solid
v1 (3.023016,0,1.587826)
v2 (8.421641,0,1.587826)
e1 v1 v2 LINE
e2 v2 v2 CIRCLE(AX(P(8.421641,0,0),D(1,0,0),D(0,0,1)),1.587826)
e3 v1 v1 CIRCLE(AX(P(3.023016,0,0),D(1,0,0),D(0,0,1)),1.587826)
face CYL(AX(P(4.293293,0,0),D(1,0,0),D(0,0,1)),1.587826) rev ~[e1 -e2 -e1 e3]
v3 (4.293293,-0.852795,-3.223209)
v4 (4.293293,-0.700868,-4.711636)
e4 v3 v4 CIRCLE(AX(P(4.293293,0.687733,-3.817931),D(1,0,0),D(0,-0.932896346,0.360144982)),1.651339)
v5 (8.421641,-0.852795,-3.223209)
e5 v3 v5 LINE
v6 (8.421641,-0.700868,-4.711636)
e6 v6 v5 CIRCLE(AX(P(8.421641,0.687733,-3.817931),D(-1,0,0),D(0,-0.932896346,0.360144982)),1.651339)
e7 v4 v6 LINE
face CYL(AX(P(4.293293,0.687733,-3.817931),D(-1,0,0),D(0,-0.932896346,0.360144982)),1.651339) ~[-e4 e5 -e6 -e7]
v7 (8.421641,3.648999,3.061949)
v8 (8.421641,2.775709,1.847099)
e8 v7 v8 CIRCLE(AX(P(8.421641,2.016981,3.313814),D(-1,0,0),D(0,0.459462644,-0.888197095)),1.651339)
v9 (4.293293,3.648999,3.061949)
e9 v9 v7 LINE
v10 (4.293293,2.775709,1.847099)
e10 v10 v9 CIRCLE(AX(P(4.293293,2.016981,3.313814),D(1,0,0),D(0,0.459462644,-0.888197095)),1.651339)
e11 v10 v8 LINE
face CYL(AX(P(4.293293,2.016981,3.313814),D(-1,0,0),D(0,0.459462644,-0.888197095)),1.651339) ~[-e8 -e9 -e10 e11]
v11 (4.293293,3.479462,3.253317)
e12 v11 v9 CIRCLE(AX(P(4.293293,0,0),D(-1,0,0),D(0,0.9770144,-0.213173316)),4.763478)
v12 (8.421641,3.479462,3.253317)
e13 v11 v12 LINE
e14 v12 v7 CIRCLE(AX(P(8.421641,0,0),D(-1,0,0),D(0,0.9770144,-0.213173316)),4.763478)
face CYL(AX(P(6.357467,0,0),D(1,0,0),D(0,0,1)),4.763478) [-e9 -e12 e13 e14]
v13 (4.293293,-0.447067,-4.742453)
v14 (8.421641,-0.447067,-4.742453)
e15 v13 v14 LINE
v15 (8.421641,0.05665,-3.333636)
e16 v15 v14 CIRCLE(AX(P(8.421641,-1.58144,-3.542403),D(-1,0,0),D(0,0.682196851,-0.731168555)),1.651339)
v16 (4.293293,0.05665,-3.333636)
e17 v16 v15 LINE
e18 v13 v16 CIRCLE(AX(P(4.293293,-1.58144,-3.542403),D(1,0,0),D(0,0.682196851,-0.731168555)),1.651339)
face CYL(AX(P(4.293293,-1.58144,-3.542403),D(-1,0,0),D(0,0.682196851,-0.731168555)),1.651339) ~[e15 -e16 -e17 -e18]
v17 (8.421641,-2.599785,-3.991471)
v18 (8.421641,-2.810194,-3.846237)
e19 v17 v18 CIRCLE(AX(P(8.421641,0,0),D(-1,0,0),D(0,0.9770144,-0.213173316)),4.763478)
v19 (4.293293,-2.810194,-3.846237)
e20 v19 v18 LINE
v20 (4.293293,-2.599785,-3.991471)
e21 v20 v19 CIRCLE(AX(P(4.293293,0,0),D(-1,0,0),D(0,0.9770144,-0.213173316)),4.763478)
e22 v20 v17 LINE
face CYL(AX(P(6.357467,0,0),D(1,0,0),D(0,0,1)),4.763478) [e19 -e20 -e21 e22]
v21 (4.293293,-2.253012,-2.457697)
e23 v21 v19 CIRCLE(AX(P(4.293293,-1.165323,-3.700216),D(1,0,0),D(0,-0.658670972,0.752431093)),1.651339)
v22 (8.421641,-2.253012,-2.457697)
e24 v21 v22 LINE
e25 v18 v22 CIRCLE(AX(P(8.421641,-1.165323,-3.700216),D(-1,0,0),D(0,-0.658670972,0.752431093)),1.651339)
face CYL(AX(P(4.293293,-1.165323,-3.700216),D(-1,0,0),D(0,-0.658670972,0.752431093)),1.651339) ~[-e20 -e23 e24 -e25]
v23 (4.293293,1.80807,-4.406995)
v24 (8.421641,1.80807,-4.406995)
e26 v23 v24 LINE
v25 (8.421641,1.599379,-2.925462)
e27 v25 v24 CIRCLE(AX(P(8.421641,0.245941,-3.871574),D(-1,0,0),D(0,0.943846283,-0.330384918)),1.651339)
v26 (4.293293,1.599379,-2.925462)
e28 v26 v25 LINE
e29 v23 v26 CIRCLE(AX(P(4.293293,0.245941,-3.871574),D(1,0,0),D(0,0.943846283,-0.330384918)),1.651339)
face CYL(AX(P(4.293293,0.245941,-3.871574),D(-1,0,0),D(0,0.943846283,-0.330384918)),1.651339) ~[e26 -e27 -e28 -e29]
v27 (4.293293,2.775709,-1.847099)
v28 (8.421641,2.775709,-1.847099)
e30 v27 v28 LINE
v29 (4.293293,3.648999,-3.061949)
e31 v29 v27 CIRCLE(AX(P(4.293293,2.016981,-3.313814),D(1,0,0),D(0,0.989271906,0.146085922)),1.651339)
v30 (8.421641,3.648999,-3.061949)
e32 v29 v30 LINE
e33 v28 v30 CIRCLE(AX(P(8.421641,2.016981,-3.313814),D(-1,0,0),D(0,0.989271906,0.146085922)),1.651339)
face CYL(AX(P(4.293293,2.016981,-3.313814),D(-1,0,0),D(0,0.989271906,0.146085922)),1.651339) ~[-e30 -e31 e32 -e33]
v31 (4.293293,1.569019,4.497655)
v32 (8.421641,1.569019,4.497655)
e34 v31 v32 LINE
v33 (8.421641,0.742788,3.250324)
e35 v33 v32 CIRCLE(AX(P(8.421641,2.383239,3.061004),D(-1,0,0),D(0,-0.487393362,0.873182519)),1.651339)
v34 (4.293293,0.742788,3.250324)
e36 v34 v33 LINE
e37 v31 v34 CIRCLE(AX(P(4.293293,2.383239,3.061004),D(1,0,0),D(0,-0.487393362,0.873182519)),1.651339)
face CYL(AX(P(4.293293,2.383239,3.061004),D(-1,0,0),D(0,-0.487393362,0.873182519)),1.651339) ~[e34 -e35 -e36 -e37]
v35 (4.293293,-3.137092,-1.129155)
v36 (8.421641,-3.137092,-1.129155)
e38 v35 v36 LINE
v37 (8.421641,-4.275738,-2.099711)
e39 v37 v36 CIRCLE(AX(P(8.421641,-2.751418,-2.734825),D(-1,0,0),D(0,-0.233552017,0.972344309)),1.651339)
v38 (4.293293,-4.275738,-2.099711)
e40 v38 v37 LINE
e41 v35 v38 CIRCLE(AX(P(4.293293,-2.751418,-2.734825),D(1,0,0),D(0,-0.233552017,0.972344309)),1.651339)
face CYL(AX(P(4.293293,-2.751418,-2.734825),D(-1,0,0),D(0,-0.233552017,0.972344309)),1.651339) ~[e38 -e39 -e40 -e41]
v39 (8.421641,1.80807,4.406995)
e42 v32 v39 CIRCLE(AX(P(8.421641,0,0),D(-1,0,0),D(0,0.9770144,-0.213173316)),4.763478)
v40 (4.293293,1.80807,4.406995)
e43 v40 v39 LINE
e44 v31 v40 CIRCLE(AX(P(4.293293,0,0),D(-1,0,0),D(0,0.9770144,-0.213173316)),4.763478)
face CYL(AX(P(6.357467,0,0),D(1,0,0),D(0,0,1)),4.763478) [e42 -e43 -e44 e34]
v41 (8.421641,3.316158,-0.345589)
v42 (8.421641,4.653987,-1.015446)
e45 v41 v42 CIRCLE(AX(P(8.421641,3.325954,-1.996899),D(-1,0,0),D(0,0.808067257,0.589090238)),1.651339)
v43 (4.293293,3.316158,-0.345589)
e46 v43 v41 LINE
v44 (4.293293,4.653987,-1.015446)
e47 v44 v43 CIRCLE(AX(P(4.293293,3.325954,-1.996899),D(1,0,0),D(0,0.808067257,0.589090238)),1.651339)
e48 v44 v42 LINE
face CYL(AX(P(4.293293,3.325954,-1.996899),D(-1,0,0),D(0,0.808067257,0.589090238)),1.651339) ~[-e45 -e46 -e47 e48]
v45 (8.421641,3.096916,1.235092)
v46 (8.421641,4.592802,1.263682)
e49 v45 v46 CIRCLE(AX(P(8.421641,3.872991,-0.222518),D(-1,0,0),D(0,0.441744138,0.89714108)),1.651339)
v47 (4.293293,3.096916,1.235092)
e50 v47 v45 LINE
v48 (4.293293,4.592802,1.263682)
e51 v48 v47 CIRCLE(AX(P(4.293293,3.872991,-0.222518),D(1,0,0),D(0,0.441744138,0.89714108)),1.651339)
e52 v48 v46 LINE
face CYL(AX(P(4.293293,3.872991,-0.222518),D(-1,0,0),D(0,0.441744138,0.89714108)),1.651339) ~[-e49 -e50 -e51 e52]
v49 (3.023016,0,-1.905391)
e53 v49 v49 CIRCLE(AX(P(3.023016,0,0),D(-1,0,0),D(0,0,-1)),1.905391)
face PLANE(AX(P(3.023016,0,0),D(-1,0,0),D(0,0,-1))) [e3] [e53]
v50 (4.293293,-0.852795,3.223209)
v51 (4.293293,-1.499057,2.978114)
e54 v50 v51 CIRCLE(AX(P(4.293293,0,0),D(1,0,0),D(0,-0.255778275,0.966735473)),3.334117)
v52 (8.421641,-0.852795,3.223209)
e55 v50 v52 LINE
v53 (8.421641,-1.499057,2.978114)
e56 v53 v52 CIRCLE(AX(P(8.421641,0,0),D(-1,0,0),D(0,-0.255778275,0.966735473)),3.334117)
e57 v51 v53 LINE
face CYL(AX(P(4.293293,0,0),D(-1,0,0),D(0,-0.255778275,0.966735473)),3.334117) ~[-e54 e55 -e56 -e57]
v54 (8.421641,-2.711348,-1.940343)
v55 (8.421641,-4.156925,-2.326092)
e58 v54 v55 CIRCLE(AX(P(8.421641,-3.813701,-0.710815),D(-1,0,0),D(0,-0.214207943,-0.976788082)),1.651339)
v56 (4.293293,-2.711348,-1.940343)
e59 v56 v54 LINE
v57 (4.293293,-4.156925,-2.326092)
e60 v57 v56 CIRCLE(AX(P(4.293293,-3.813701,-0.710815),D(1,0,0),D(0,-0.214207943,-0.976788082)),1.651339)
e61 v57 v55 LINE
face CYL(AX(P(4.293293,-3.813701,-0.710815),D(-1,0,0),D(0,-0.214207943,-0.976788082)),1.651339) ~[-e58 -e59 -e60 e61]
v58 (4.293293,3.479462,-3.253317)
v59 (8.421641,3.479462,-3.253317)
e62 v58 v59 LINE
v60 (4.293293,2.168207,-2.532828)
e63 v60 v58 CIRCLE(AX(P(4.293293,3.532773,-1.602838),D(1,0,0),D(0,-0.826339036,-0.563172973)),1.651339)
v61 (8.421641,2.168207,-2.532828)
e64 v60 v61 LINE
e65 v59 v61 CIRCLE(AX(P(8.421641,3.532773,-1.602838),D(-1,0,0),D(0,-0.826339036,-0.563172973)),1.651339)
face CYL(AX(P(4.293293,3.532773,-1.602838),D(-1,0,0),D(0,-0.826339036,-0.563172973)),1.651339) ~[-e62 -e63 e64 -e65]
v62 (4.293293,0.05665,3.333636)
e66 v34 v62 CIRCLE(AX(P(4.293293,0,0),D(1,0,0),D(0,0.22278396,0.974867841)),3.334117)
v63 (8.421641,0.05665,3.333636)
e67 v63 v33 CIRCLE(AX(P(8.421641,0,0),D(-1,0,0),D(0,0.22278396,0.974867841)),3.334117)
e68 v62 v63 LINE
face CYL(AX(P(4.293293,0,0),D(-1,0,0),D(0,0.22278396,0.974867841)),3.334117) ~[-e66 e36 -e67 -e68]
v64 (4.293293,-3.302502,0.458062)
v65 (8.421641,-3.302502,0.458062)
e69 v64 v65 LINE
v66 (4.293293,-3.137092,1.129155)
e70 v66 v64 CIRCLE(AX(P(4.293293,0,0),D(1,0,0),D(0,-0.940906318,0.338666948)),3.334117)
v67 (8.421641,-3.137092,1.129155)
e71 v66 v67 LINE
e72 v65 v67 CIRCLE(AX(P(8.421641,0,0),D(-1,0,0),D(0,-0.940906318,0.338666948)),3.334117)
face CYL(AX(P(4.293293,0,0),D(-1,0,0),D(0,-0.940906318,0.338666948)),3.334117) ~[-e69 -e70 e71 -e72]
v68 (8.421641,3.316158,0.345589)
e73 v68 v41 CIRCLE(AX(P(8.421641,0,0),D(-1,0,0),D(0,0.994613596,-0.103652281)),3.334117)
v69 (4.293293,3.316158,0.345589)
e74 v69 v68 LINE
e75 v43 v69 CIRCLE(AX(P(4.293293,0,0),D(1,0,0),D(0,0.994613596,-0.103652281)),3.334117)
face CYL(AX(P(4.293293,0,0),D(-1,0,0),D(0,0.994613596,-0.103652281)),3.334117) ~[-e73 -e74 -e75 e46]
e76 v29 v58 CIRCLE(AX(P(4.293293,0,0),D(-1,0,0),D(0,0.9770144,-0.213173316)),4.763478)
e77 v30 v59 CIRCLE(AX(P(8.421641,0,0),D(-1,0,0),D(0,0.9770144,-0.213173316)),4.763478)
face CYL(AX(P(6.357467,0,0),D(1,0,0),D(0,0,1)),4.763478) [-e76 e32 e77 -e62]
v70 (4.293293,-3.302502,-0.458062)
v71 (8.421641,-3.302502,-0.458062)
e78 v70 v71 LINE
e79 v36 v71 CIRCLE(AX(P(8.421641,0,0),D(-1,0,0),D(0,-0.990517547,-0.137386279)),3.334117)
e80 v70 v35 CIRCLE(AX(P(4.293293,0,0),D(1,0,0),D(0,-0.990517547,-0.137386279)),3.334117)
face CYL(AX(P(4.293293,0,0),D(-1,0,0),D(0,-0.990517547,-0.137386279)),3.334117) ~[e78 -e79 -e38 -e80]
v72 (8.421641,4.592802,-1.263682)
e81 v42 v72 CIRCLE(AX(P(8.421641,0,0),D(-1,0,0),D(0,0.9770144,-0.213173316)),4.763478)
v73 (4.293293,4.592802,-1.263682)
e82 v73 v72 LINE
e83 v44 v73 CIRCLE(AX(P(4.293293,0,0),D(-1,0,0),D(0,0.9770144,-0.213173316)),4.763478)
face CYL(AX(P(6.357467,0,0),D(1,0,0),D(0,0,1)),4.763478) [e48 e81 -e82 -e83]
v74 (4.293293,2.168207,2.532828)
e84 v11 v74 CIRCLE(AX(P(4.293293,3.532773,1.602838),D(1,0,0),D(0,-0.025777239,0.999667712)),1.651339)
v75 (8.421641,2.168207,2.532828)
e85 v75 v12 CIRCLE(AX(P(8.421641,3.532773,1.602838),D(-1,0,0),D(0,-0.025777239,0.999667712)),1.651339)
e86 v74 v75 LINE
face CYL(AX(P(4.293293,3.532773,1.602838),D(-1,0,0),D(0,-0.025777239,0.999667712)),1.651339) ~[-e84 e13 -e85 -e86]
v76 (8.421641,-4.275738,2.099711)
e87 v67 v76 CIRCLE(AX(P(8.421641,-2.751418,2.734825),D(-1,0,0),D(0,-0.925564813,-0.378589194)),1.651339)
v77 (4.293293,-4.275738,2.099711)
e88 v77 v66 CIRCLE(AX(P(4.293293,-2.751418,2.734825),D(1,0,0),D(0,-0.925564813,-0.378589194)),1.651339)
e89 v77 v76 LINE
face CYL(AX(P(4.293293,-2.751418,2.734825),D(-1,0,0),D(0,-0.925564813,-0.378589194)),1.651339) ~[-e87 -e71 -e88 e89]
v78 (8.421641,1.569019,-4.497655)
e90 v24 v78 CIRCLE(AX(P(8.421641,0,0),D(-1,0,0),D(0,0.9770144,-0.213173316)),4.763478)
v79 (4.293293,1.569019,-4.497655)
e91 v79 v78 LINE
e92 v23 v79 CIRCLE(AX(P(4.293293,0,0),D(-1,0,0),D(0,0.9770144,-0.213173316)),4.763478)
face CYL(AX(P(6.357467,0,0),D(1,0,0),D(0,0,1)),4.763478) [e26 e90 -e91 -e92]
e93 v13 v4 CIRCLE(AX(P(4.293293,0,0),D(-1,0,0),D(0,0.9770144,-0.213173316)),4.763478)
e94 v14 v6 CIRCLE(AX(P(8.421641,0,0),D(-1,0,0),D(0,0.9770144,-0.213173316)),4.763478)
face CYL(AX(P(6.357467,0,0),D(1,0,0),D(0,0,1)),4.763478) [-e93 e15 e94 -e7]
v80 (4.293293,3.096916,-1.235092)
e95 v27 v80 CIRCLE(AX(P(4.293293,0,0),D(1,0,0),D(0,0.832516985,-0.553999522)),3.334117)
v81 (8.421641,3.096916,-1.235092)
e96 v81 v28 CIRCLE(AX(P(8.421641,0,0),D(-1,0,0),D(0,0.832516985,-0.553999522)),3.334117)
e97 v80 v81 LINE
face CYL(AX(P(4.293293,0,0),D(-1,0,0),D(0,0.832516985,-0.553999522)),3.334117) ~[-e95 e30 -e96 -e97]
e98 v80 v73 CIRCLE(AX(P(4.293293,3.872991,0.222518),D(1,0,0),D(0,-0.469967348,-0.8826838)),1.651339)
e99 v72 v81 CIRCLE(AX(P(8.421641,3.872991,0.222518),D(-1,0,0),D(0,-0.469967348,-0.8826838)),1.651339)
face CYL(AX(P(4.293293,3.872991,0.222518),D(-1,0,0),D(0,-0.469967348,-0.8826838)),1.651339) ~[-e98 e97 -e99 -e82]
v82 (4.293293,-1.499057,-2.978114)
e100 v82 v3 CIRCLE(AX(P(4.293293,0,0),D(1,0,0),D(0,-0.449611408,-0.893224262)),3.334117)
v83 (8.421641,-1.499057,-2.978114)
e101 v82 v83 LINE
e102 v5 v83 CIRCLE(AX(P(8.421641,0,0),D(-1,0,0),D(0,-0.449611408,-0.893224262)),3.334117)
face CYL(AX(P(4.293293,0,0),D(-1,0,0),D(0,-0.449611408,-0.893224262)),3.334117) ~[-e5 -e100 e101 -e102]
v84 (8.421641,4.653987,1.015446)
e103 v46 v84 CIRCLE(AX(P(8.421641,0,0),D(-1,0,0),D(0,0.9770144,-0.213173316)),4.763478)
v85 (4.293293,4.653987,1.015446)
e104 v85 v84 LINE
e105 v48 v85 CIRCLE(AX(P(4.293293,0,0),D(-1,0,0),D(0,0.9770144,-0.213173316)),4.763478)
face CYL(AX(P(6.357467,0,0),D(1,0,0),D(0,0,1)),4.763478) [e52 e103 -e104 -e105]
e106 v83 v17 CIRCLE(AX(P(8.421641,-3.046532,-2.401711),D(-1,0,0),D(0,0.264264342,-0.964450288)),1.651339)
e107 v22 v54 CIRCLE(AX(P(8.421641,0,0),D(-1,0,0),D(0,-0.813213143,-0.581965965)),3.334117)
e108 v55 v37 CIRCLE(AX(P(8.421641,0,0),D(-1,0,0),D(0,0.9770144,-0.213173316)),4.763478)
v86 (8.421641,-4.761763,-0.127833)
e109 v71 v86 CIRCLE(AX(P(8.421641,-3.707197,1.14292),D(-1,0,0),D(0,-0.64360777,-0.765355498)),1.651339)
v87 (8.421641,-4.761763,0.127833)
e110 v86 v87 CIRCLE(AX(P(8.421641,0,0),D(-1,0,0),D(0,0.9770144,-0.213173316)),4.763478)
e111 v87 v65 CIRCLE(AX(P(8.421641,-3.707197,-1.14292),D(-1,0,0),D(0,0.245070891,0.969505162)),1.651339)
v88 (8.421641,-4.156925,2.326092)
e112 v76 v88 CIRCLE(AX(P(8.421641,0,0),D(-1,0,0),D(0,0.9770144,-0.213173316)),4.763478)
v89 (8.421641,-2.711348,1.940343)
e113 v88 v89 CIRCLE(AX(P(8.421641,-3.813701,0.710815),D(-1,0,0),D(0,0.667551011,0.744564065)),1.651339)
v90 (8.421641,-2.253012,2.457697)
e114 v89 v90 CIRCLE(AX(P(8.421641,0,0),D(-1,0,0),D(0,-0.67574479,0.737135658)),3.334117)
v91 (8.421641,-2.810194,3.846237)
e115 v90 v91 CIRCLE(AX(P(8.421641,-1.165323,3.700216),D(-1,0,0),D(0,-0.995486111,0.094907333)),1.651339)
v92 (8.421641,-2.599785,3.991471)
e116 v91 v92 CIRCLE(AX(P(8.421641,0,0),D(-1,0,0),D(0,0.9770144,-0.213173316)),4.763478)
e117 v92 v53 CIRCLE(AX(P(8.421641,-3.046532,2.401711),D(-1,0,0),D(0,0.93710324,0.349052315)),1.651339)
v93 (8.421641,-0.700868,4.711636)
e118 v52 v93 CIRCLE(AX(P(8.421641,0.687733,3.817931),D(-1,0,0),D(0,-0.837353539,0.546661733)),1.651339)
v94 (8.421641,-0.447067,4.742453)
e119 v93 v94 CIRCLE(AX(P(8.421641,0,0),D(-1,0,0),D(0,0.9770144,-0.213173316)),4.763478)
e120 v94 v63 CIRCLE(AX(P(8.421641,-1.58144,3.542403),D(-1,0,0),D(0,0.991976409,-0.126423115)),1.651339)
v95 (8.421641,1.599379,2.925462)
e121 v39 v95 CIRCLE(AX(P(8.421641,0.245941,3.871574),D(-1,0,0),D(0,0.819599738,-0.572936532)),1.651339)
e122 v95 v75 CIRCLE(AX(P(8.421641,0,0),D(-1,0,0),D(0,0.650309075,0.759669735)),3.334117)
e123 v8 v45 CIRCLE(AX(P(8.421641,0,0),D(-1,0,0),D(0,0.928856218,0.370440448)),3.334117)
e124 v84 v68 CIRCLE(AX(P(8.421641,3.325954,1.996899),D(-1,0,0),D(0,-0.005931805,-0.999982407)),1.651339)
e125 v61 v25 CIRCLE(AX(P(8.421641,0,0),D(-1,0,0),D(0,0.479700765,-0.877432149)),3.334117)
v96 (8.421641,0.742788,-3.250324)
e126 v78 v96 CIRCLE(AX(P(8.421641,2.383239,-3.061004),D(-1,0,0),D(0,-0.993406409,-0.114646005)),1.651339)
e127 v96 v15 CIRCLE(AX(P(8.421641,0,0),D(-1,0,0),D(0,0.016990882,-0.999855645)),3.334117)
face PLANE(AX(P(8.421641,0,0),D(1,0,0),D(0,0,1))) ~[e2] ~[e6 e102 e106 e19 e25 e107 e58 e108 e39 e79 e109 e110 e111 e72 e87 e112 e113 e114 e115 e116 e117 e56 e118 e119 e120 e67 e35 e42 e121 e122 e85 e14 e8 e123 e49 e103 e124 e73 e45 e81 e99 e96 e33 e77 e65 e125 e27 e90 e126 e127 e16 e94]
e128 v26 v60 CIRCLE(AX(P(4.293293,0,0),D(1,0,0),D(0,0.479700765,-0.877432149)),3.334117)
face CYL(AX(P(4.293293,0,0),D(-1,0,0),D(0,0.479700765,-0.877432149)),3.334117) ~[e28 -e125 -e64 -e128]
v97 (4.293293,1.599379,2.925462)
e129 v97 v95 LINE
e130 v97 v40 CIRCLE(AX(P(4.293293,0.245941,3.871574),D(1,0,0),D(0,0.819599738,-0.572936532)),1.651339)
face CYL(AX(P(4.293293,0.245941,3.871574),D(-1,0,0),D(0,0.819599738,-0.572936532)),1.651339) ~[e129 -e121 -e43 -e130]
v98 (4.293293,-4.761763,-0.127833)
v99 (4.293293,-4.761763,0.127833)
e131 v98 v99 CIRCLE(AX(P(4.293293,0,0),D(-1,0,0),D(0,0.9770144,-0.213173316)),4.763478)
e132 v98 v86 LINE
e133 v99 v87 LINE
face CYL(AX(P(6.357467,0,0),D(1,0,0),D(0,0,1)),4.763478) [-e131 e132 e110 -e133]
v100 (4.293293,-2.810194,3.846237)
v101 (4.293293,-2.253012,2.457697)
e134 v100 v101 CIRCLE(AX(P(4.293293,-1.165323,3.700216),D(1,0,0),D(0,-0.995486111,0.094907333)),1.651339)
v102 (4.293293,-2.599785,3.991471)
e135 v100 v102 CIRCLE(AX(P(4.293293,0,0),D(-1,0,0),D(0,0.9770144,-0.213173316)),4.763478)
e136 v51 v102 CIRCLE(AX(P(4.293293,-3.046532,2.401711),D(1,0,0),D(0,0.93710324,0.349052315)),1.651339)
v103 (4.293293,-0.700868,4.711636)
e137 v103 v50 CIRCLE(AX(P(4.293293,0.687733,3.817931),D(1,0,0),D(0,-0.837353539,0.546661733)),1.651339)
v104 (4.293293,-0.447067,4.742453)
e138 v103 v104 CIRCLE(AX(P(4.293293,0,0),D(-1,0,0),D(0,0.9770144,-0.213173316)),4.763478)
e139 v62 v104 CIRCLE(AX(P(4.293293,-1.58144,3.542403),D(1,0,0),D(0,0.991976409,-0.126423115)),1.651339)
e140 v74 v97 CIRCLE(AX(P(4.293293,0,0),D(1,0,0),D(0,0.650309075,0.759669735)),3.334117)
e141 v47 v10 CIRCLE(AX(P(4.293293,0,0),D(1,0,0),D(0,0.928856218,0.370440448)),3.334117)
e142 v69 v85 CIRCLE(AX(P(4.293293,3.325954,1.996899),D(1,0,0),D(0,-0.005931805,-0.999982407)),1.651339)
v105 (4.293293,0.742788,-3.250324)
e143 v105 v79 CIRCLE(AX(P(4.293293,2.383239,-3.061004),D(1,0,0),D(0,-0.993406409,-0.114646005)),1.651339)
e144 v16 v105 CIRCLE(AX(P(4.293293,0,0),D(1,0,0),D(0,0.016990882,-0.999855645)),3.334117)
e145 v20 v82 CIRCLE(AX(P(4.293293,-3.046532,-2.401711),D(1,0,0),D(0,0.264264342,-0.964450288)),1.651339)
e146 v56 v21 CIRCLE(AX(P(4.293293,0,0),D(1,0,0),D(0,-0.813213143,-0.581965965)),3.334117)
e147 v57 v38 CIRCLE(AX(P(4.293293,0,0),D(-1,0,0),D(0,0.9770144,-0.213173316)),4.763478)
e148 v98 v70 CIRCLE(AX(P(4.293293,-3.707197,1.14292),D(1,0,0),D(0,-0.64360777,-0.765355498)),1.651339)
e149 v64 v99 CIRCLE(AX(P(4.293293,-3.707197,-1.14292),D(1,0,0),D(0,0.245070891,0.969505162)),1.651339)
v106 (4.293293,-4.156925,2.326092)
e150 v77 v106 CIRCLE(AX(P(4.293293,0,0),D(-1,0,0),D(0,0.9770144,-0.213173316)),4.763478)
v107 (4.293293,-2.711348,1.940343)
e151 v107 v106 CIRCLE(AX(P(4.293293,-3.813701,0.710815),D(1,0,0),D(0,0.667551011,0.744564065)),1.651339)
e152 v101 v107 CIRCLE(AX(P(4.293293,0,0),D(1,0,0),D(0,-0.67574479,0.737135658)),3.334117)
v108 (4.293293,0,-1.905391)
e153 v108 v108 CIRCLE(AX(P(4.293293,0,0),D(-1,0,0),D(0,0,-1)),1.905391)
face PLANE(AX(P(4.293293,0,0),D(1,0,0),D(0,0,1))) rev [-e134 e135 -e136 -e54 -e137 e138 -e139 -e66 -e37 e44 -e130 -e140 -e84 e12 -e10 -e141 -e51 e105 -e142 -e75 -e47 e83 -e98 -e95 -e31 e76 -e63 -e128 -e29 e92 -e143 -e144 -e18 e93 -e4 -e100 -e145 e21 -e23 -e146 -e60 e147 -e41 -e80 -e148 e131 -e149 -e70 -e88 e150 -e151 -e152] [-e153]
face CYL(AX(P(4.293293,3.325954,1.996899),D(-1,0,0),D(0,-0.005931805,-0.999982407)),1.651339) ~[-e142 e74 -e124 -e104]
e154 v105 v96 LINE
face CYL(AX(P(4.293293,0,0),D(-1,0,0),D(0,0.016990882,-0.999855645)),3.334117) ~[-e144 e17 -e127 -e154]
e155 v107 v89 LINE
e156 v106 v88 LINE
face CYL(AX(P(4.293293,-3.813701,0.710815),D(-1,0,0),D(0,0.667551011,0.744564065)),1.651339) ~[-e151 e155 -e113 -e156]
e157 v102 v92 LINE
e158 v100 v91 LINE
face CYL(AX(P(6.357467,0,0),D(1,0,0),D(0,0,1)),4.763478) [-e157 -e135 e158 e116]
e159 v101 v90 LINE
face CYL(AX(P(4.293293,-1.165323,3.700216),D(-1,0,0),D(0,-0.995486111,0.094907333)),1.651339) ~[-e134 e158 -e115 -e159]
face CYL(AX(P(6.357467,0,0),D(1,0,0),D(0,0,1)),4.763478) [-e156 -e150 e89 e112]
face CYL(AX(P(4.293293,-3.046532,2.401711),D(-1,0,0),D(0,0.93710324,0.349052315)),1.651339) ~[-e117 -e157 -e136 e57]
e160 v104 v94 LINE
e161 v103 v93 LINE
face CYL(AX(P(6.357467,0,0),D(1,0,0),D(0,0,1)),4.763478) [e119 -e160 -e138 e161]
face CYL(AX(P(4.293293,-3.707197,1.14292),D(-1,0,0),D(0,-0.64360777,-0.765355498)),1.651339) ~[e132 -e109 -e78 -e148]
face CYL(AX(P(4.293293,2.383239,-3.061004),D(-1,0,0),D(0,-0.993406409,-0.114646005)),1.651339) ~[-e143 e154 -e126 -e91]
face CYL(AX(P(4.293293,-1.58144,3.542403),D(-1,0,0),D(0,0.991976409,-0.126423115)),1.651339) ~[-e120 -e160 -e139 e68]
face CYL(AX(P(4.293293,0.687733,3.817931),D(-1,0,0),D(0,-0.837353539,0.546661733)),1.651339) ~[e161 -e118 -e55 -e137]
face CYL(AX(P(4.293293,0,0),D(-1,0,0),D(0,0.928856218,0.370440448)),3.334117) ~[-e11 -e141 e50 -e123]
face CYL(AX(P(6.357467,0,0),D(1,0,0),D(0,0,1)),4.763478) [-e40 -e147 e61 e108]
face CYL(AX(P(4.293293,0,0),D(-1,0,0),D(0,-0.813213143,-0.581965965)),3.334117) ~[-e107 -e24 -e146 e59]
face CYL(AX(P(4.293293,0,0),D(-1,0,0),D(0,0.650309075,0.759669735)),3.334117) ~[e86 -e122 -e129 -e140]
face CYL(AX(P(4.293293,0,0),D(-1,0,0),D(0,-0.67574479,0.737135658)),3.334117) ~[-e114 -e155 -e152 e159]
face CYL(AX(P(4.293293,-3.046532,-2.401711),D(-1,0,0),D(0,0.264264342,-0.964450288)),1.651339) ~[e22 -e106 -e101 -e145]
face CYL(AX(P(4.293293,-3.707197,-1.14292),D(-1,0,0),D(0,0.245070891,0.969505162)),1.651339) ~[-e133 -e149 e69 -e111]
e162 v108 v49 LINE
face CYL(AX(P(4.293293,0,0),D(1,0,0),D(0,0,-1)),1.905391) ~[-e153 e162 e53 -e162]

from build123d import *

# Parameters (mm, degrees)
BASPROSKE_W      = 13
BASPROSKE_H      = 15
TOOTHCUT_DEPTH   = 25.879710609
TEETHCUTS_COUNT  = 13
TEETHCUTS_ANGLE  = 332.307692308
HUBNEAONESKE_R   = 6
HUBNEARONE_DEPTH = 4.0000508
BORSKE_R         = 5
BORE_DEPTH       = 17.0000508
SCALE1_SCALE     = 0.317565217


with BuildPart() as part:
    # BasProSke → Base-Revolve (revolve)
    with BuildSketch(Plane(origin=(0, 0, 0), x_dir=(1, 0, 0), z_dir=(0, 1, 0)), mode=Mode.PRIVATE) as base_revolve_sk:
        with Locations((6.5, 7.5)):
            Rectangle(BASPROSKE_W, BASPROSKE_H)
    revolve(base_revolve_sk.sketch.rotate(Axis((-10, 0, 0), (1, 0, 0)), 180), axis=Axis((-10, 0, 0), (1, 0, 0)))

    # TooCutSke → ToothCut (cut, through all)
    with BuildSketch(Plane(origin=(0, 0, 0), x_dir=(0, 0, -1), z_dir=(1, 0, 0))):
        with BuildLine():
            ThreePointArc((1.088245291, 10.442448141), (0, 10.499), (-1.088245291, 10.442448141))
            ThreePointArc((-1.088245291, 10.442448141), (-1.646045958, 12.816546547), (-3.224884568, 14.675243258))
            ThreePointArc((-3.224884568, 14.675243258), (0, 15.0254), (3.224884568, 14.675243258))
            ThreePointArc((3.224884568, 14.675243258), (1.646045958, 12.816546547), (1.088245291, 10.442448141))
        make_face()
    toothcut = extrude(amount=TOOTHCUT_DEPTH, mode=Mode.SUBTRACT)

    # TeethCuts: ToothCut ×13 about axis
    teethcuts_axis = Axis((-10, 0, 0), (1, 0, 0))
    for i in range(1, TEETHCUTS_COUNT):
        add(toothcut.rotate(teethcuts_axis, i * TEETHCUTS_ANGLE / (TEETHCUTS_COUNT - 1)), mode=Mode.SUBTRACT)

    # HubNeaOneSke → HubNearOne (add)
    with BuildSketch(Plane.ZY):
        with Locations(Location((0, 0, 0), (0, 0, 180))):
            Circle(HUBNEAONESKE_R)
    extrude(amount=HUBNEARONE_DEPTH)

    # BorSke → Bore (cut, symmetric)
    with BuildSketch(Plane(origin=(0, 0, 0), x_dir=(0, 0, -1), z_dir=(1, 0, 0))):
        with Locations(Location((0, 0, 0), (0, 0, 180))):
            Circle(BORSKE_R)
    extrude(amount=BORE_DEPTH, both=True, mode=Mode.SUBTRACT)


with BuildPart() as part_1:
    # Scale1: scaled about (6.291140597, 0, 0)
    add(part.part.scale(SCALE1_SCALE).moved(Location((4.293293168, 0, 0))))


solid = part_1.part
